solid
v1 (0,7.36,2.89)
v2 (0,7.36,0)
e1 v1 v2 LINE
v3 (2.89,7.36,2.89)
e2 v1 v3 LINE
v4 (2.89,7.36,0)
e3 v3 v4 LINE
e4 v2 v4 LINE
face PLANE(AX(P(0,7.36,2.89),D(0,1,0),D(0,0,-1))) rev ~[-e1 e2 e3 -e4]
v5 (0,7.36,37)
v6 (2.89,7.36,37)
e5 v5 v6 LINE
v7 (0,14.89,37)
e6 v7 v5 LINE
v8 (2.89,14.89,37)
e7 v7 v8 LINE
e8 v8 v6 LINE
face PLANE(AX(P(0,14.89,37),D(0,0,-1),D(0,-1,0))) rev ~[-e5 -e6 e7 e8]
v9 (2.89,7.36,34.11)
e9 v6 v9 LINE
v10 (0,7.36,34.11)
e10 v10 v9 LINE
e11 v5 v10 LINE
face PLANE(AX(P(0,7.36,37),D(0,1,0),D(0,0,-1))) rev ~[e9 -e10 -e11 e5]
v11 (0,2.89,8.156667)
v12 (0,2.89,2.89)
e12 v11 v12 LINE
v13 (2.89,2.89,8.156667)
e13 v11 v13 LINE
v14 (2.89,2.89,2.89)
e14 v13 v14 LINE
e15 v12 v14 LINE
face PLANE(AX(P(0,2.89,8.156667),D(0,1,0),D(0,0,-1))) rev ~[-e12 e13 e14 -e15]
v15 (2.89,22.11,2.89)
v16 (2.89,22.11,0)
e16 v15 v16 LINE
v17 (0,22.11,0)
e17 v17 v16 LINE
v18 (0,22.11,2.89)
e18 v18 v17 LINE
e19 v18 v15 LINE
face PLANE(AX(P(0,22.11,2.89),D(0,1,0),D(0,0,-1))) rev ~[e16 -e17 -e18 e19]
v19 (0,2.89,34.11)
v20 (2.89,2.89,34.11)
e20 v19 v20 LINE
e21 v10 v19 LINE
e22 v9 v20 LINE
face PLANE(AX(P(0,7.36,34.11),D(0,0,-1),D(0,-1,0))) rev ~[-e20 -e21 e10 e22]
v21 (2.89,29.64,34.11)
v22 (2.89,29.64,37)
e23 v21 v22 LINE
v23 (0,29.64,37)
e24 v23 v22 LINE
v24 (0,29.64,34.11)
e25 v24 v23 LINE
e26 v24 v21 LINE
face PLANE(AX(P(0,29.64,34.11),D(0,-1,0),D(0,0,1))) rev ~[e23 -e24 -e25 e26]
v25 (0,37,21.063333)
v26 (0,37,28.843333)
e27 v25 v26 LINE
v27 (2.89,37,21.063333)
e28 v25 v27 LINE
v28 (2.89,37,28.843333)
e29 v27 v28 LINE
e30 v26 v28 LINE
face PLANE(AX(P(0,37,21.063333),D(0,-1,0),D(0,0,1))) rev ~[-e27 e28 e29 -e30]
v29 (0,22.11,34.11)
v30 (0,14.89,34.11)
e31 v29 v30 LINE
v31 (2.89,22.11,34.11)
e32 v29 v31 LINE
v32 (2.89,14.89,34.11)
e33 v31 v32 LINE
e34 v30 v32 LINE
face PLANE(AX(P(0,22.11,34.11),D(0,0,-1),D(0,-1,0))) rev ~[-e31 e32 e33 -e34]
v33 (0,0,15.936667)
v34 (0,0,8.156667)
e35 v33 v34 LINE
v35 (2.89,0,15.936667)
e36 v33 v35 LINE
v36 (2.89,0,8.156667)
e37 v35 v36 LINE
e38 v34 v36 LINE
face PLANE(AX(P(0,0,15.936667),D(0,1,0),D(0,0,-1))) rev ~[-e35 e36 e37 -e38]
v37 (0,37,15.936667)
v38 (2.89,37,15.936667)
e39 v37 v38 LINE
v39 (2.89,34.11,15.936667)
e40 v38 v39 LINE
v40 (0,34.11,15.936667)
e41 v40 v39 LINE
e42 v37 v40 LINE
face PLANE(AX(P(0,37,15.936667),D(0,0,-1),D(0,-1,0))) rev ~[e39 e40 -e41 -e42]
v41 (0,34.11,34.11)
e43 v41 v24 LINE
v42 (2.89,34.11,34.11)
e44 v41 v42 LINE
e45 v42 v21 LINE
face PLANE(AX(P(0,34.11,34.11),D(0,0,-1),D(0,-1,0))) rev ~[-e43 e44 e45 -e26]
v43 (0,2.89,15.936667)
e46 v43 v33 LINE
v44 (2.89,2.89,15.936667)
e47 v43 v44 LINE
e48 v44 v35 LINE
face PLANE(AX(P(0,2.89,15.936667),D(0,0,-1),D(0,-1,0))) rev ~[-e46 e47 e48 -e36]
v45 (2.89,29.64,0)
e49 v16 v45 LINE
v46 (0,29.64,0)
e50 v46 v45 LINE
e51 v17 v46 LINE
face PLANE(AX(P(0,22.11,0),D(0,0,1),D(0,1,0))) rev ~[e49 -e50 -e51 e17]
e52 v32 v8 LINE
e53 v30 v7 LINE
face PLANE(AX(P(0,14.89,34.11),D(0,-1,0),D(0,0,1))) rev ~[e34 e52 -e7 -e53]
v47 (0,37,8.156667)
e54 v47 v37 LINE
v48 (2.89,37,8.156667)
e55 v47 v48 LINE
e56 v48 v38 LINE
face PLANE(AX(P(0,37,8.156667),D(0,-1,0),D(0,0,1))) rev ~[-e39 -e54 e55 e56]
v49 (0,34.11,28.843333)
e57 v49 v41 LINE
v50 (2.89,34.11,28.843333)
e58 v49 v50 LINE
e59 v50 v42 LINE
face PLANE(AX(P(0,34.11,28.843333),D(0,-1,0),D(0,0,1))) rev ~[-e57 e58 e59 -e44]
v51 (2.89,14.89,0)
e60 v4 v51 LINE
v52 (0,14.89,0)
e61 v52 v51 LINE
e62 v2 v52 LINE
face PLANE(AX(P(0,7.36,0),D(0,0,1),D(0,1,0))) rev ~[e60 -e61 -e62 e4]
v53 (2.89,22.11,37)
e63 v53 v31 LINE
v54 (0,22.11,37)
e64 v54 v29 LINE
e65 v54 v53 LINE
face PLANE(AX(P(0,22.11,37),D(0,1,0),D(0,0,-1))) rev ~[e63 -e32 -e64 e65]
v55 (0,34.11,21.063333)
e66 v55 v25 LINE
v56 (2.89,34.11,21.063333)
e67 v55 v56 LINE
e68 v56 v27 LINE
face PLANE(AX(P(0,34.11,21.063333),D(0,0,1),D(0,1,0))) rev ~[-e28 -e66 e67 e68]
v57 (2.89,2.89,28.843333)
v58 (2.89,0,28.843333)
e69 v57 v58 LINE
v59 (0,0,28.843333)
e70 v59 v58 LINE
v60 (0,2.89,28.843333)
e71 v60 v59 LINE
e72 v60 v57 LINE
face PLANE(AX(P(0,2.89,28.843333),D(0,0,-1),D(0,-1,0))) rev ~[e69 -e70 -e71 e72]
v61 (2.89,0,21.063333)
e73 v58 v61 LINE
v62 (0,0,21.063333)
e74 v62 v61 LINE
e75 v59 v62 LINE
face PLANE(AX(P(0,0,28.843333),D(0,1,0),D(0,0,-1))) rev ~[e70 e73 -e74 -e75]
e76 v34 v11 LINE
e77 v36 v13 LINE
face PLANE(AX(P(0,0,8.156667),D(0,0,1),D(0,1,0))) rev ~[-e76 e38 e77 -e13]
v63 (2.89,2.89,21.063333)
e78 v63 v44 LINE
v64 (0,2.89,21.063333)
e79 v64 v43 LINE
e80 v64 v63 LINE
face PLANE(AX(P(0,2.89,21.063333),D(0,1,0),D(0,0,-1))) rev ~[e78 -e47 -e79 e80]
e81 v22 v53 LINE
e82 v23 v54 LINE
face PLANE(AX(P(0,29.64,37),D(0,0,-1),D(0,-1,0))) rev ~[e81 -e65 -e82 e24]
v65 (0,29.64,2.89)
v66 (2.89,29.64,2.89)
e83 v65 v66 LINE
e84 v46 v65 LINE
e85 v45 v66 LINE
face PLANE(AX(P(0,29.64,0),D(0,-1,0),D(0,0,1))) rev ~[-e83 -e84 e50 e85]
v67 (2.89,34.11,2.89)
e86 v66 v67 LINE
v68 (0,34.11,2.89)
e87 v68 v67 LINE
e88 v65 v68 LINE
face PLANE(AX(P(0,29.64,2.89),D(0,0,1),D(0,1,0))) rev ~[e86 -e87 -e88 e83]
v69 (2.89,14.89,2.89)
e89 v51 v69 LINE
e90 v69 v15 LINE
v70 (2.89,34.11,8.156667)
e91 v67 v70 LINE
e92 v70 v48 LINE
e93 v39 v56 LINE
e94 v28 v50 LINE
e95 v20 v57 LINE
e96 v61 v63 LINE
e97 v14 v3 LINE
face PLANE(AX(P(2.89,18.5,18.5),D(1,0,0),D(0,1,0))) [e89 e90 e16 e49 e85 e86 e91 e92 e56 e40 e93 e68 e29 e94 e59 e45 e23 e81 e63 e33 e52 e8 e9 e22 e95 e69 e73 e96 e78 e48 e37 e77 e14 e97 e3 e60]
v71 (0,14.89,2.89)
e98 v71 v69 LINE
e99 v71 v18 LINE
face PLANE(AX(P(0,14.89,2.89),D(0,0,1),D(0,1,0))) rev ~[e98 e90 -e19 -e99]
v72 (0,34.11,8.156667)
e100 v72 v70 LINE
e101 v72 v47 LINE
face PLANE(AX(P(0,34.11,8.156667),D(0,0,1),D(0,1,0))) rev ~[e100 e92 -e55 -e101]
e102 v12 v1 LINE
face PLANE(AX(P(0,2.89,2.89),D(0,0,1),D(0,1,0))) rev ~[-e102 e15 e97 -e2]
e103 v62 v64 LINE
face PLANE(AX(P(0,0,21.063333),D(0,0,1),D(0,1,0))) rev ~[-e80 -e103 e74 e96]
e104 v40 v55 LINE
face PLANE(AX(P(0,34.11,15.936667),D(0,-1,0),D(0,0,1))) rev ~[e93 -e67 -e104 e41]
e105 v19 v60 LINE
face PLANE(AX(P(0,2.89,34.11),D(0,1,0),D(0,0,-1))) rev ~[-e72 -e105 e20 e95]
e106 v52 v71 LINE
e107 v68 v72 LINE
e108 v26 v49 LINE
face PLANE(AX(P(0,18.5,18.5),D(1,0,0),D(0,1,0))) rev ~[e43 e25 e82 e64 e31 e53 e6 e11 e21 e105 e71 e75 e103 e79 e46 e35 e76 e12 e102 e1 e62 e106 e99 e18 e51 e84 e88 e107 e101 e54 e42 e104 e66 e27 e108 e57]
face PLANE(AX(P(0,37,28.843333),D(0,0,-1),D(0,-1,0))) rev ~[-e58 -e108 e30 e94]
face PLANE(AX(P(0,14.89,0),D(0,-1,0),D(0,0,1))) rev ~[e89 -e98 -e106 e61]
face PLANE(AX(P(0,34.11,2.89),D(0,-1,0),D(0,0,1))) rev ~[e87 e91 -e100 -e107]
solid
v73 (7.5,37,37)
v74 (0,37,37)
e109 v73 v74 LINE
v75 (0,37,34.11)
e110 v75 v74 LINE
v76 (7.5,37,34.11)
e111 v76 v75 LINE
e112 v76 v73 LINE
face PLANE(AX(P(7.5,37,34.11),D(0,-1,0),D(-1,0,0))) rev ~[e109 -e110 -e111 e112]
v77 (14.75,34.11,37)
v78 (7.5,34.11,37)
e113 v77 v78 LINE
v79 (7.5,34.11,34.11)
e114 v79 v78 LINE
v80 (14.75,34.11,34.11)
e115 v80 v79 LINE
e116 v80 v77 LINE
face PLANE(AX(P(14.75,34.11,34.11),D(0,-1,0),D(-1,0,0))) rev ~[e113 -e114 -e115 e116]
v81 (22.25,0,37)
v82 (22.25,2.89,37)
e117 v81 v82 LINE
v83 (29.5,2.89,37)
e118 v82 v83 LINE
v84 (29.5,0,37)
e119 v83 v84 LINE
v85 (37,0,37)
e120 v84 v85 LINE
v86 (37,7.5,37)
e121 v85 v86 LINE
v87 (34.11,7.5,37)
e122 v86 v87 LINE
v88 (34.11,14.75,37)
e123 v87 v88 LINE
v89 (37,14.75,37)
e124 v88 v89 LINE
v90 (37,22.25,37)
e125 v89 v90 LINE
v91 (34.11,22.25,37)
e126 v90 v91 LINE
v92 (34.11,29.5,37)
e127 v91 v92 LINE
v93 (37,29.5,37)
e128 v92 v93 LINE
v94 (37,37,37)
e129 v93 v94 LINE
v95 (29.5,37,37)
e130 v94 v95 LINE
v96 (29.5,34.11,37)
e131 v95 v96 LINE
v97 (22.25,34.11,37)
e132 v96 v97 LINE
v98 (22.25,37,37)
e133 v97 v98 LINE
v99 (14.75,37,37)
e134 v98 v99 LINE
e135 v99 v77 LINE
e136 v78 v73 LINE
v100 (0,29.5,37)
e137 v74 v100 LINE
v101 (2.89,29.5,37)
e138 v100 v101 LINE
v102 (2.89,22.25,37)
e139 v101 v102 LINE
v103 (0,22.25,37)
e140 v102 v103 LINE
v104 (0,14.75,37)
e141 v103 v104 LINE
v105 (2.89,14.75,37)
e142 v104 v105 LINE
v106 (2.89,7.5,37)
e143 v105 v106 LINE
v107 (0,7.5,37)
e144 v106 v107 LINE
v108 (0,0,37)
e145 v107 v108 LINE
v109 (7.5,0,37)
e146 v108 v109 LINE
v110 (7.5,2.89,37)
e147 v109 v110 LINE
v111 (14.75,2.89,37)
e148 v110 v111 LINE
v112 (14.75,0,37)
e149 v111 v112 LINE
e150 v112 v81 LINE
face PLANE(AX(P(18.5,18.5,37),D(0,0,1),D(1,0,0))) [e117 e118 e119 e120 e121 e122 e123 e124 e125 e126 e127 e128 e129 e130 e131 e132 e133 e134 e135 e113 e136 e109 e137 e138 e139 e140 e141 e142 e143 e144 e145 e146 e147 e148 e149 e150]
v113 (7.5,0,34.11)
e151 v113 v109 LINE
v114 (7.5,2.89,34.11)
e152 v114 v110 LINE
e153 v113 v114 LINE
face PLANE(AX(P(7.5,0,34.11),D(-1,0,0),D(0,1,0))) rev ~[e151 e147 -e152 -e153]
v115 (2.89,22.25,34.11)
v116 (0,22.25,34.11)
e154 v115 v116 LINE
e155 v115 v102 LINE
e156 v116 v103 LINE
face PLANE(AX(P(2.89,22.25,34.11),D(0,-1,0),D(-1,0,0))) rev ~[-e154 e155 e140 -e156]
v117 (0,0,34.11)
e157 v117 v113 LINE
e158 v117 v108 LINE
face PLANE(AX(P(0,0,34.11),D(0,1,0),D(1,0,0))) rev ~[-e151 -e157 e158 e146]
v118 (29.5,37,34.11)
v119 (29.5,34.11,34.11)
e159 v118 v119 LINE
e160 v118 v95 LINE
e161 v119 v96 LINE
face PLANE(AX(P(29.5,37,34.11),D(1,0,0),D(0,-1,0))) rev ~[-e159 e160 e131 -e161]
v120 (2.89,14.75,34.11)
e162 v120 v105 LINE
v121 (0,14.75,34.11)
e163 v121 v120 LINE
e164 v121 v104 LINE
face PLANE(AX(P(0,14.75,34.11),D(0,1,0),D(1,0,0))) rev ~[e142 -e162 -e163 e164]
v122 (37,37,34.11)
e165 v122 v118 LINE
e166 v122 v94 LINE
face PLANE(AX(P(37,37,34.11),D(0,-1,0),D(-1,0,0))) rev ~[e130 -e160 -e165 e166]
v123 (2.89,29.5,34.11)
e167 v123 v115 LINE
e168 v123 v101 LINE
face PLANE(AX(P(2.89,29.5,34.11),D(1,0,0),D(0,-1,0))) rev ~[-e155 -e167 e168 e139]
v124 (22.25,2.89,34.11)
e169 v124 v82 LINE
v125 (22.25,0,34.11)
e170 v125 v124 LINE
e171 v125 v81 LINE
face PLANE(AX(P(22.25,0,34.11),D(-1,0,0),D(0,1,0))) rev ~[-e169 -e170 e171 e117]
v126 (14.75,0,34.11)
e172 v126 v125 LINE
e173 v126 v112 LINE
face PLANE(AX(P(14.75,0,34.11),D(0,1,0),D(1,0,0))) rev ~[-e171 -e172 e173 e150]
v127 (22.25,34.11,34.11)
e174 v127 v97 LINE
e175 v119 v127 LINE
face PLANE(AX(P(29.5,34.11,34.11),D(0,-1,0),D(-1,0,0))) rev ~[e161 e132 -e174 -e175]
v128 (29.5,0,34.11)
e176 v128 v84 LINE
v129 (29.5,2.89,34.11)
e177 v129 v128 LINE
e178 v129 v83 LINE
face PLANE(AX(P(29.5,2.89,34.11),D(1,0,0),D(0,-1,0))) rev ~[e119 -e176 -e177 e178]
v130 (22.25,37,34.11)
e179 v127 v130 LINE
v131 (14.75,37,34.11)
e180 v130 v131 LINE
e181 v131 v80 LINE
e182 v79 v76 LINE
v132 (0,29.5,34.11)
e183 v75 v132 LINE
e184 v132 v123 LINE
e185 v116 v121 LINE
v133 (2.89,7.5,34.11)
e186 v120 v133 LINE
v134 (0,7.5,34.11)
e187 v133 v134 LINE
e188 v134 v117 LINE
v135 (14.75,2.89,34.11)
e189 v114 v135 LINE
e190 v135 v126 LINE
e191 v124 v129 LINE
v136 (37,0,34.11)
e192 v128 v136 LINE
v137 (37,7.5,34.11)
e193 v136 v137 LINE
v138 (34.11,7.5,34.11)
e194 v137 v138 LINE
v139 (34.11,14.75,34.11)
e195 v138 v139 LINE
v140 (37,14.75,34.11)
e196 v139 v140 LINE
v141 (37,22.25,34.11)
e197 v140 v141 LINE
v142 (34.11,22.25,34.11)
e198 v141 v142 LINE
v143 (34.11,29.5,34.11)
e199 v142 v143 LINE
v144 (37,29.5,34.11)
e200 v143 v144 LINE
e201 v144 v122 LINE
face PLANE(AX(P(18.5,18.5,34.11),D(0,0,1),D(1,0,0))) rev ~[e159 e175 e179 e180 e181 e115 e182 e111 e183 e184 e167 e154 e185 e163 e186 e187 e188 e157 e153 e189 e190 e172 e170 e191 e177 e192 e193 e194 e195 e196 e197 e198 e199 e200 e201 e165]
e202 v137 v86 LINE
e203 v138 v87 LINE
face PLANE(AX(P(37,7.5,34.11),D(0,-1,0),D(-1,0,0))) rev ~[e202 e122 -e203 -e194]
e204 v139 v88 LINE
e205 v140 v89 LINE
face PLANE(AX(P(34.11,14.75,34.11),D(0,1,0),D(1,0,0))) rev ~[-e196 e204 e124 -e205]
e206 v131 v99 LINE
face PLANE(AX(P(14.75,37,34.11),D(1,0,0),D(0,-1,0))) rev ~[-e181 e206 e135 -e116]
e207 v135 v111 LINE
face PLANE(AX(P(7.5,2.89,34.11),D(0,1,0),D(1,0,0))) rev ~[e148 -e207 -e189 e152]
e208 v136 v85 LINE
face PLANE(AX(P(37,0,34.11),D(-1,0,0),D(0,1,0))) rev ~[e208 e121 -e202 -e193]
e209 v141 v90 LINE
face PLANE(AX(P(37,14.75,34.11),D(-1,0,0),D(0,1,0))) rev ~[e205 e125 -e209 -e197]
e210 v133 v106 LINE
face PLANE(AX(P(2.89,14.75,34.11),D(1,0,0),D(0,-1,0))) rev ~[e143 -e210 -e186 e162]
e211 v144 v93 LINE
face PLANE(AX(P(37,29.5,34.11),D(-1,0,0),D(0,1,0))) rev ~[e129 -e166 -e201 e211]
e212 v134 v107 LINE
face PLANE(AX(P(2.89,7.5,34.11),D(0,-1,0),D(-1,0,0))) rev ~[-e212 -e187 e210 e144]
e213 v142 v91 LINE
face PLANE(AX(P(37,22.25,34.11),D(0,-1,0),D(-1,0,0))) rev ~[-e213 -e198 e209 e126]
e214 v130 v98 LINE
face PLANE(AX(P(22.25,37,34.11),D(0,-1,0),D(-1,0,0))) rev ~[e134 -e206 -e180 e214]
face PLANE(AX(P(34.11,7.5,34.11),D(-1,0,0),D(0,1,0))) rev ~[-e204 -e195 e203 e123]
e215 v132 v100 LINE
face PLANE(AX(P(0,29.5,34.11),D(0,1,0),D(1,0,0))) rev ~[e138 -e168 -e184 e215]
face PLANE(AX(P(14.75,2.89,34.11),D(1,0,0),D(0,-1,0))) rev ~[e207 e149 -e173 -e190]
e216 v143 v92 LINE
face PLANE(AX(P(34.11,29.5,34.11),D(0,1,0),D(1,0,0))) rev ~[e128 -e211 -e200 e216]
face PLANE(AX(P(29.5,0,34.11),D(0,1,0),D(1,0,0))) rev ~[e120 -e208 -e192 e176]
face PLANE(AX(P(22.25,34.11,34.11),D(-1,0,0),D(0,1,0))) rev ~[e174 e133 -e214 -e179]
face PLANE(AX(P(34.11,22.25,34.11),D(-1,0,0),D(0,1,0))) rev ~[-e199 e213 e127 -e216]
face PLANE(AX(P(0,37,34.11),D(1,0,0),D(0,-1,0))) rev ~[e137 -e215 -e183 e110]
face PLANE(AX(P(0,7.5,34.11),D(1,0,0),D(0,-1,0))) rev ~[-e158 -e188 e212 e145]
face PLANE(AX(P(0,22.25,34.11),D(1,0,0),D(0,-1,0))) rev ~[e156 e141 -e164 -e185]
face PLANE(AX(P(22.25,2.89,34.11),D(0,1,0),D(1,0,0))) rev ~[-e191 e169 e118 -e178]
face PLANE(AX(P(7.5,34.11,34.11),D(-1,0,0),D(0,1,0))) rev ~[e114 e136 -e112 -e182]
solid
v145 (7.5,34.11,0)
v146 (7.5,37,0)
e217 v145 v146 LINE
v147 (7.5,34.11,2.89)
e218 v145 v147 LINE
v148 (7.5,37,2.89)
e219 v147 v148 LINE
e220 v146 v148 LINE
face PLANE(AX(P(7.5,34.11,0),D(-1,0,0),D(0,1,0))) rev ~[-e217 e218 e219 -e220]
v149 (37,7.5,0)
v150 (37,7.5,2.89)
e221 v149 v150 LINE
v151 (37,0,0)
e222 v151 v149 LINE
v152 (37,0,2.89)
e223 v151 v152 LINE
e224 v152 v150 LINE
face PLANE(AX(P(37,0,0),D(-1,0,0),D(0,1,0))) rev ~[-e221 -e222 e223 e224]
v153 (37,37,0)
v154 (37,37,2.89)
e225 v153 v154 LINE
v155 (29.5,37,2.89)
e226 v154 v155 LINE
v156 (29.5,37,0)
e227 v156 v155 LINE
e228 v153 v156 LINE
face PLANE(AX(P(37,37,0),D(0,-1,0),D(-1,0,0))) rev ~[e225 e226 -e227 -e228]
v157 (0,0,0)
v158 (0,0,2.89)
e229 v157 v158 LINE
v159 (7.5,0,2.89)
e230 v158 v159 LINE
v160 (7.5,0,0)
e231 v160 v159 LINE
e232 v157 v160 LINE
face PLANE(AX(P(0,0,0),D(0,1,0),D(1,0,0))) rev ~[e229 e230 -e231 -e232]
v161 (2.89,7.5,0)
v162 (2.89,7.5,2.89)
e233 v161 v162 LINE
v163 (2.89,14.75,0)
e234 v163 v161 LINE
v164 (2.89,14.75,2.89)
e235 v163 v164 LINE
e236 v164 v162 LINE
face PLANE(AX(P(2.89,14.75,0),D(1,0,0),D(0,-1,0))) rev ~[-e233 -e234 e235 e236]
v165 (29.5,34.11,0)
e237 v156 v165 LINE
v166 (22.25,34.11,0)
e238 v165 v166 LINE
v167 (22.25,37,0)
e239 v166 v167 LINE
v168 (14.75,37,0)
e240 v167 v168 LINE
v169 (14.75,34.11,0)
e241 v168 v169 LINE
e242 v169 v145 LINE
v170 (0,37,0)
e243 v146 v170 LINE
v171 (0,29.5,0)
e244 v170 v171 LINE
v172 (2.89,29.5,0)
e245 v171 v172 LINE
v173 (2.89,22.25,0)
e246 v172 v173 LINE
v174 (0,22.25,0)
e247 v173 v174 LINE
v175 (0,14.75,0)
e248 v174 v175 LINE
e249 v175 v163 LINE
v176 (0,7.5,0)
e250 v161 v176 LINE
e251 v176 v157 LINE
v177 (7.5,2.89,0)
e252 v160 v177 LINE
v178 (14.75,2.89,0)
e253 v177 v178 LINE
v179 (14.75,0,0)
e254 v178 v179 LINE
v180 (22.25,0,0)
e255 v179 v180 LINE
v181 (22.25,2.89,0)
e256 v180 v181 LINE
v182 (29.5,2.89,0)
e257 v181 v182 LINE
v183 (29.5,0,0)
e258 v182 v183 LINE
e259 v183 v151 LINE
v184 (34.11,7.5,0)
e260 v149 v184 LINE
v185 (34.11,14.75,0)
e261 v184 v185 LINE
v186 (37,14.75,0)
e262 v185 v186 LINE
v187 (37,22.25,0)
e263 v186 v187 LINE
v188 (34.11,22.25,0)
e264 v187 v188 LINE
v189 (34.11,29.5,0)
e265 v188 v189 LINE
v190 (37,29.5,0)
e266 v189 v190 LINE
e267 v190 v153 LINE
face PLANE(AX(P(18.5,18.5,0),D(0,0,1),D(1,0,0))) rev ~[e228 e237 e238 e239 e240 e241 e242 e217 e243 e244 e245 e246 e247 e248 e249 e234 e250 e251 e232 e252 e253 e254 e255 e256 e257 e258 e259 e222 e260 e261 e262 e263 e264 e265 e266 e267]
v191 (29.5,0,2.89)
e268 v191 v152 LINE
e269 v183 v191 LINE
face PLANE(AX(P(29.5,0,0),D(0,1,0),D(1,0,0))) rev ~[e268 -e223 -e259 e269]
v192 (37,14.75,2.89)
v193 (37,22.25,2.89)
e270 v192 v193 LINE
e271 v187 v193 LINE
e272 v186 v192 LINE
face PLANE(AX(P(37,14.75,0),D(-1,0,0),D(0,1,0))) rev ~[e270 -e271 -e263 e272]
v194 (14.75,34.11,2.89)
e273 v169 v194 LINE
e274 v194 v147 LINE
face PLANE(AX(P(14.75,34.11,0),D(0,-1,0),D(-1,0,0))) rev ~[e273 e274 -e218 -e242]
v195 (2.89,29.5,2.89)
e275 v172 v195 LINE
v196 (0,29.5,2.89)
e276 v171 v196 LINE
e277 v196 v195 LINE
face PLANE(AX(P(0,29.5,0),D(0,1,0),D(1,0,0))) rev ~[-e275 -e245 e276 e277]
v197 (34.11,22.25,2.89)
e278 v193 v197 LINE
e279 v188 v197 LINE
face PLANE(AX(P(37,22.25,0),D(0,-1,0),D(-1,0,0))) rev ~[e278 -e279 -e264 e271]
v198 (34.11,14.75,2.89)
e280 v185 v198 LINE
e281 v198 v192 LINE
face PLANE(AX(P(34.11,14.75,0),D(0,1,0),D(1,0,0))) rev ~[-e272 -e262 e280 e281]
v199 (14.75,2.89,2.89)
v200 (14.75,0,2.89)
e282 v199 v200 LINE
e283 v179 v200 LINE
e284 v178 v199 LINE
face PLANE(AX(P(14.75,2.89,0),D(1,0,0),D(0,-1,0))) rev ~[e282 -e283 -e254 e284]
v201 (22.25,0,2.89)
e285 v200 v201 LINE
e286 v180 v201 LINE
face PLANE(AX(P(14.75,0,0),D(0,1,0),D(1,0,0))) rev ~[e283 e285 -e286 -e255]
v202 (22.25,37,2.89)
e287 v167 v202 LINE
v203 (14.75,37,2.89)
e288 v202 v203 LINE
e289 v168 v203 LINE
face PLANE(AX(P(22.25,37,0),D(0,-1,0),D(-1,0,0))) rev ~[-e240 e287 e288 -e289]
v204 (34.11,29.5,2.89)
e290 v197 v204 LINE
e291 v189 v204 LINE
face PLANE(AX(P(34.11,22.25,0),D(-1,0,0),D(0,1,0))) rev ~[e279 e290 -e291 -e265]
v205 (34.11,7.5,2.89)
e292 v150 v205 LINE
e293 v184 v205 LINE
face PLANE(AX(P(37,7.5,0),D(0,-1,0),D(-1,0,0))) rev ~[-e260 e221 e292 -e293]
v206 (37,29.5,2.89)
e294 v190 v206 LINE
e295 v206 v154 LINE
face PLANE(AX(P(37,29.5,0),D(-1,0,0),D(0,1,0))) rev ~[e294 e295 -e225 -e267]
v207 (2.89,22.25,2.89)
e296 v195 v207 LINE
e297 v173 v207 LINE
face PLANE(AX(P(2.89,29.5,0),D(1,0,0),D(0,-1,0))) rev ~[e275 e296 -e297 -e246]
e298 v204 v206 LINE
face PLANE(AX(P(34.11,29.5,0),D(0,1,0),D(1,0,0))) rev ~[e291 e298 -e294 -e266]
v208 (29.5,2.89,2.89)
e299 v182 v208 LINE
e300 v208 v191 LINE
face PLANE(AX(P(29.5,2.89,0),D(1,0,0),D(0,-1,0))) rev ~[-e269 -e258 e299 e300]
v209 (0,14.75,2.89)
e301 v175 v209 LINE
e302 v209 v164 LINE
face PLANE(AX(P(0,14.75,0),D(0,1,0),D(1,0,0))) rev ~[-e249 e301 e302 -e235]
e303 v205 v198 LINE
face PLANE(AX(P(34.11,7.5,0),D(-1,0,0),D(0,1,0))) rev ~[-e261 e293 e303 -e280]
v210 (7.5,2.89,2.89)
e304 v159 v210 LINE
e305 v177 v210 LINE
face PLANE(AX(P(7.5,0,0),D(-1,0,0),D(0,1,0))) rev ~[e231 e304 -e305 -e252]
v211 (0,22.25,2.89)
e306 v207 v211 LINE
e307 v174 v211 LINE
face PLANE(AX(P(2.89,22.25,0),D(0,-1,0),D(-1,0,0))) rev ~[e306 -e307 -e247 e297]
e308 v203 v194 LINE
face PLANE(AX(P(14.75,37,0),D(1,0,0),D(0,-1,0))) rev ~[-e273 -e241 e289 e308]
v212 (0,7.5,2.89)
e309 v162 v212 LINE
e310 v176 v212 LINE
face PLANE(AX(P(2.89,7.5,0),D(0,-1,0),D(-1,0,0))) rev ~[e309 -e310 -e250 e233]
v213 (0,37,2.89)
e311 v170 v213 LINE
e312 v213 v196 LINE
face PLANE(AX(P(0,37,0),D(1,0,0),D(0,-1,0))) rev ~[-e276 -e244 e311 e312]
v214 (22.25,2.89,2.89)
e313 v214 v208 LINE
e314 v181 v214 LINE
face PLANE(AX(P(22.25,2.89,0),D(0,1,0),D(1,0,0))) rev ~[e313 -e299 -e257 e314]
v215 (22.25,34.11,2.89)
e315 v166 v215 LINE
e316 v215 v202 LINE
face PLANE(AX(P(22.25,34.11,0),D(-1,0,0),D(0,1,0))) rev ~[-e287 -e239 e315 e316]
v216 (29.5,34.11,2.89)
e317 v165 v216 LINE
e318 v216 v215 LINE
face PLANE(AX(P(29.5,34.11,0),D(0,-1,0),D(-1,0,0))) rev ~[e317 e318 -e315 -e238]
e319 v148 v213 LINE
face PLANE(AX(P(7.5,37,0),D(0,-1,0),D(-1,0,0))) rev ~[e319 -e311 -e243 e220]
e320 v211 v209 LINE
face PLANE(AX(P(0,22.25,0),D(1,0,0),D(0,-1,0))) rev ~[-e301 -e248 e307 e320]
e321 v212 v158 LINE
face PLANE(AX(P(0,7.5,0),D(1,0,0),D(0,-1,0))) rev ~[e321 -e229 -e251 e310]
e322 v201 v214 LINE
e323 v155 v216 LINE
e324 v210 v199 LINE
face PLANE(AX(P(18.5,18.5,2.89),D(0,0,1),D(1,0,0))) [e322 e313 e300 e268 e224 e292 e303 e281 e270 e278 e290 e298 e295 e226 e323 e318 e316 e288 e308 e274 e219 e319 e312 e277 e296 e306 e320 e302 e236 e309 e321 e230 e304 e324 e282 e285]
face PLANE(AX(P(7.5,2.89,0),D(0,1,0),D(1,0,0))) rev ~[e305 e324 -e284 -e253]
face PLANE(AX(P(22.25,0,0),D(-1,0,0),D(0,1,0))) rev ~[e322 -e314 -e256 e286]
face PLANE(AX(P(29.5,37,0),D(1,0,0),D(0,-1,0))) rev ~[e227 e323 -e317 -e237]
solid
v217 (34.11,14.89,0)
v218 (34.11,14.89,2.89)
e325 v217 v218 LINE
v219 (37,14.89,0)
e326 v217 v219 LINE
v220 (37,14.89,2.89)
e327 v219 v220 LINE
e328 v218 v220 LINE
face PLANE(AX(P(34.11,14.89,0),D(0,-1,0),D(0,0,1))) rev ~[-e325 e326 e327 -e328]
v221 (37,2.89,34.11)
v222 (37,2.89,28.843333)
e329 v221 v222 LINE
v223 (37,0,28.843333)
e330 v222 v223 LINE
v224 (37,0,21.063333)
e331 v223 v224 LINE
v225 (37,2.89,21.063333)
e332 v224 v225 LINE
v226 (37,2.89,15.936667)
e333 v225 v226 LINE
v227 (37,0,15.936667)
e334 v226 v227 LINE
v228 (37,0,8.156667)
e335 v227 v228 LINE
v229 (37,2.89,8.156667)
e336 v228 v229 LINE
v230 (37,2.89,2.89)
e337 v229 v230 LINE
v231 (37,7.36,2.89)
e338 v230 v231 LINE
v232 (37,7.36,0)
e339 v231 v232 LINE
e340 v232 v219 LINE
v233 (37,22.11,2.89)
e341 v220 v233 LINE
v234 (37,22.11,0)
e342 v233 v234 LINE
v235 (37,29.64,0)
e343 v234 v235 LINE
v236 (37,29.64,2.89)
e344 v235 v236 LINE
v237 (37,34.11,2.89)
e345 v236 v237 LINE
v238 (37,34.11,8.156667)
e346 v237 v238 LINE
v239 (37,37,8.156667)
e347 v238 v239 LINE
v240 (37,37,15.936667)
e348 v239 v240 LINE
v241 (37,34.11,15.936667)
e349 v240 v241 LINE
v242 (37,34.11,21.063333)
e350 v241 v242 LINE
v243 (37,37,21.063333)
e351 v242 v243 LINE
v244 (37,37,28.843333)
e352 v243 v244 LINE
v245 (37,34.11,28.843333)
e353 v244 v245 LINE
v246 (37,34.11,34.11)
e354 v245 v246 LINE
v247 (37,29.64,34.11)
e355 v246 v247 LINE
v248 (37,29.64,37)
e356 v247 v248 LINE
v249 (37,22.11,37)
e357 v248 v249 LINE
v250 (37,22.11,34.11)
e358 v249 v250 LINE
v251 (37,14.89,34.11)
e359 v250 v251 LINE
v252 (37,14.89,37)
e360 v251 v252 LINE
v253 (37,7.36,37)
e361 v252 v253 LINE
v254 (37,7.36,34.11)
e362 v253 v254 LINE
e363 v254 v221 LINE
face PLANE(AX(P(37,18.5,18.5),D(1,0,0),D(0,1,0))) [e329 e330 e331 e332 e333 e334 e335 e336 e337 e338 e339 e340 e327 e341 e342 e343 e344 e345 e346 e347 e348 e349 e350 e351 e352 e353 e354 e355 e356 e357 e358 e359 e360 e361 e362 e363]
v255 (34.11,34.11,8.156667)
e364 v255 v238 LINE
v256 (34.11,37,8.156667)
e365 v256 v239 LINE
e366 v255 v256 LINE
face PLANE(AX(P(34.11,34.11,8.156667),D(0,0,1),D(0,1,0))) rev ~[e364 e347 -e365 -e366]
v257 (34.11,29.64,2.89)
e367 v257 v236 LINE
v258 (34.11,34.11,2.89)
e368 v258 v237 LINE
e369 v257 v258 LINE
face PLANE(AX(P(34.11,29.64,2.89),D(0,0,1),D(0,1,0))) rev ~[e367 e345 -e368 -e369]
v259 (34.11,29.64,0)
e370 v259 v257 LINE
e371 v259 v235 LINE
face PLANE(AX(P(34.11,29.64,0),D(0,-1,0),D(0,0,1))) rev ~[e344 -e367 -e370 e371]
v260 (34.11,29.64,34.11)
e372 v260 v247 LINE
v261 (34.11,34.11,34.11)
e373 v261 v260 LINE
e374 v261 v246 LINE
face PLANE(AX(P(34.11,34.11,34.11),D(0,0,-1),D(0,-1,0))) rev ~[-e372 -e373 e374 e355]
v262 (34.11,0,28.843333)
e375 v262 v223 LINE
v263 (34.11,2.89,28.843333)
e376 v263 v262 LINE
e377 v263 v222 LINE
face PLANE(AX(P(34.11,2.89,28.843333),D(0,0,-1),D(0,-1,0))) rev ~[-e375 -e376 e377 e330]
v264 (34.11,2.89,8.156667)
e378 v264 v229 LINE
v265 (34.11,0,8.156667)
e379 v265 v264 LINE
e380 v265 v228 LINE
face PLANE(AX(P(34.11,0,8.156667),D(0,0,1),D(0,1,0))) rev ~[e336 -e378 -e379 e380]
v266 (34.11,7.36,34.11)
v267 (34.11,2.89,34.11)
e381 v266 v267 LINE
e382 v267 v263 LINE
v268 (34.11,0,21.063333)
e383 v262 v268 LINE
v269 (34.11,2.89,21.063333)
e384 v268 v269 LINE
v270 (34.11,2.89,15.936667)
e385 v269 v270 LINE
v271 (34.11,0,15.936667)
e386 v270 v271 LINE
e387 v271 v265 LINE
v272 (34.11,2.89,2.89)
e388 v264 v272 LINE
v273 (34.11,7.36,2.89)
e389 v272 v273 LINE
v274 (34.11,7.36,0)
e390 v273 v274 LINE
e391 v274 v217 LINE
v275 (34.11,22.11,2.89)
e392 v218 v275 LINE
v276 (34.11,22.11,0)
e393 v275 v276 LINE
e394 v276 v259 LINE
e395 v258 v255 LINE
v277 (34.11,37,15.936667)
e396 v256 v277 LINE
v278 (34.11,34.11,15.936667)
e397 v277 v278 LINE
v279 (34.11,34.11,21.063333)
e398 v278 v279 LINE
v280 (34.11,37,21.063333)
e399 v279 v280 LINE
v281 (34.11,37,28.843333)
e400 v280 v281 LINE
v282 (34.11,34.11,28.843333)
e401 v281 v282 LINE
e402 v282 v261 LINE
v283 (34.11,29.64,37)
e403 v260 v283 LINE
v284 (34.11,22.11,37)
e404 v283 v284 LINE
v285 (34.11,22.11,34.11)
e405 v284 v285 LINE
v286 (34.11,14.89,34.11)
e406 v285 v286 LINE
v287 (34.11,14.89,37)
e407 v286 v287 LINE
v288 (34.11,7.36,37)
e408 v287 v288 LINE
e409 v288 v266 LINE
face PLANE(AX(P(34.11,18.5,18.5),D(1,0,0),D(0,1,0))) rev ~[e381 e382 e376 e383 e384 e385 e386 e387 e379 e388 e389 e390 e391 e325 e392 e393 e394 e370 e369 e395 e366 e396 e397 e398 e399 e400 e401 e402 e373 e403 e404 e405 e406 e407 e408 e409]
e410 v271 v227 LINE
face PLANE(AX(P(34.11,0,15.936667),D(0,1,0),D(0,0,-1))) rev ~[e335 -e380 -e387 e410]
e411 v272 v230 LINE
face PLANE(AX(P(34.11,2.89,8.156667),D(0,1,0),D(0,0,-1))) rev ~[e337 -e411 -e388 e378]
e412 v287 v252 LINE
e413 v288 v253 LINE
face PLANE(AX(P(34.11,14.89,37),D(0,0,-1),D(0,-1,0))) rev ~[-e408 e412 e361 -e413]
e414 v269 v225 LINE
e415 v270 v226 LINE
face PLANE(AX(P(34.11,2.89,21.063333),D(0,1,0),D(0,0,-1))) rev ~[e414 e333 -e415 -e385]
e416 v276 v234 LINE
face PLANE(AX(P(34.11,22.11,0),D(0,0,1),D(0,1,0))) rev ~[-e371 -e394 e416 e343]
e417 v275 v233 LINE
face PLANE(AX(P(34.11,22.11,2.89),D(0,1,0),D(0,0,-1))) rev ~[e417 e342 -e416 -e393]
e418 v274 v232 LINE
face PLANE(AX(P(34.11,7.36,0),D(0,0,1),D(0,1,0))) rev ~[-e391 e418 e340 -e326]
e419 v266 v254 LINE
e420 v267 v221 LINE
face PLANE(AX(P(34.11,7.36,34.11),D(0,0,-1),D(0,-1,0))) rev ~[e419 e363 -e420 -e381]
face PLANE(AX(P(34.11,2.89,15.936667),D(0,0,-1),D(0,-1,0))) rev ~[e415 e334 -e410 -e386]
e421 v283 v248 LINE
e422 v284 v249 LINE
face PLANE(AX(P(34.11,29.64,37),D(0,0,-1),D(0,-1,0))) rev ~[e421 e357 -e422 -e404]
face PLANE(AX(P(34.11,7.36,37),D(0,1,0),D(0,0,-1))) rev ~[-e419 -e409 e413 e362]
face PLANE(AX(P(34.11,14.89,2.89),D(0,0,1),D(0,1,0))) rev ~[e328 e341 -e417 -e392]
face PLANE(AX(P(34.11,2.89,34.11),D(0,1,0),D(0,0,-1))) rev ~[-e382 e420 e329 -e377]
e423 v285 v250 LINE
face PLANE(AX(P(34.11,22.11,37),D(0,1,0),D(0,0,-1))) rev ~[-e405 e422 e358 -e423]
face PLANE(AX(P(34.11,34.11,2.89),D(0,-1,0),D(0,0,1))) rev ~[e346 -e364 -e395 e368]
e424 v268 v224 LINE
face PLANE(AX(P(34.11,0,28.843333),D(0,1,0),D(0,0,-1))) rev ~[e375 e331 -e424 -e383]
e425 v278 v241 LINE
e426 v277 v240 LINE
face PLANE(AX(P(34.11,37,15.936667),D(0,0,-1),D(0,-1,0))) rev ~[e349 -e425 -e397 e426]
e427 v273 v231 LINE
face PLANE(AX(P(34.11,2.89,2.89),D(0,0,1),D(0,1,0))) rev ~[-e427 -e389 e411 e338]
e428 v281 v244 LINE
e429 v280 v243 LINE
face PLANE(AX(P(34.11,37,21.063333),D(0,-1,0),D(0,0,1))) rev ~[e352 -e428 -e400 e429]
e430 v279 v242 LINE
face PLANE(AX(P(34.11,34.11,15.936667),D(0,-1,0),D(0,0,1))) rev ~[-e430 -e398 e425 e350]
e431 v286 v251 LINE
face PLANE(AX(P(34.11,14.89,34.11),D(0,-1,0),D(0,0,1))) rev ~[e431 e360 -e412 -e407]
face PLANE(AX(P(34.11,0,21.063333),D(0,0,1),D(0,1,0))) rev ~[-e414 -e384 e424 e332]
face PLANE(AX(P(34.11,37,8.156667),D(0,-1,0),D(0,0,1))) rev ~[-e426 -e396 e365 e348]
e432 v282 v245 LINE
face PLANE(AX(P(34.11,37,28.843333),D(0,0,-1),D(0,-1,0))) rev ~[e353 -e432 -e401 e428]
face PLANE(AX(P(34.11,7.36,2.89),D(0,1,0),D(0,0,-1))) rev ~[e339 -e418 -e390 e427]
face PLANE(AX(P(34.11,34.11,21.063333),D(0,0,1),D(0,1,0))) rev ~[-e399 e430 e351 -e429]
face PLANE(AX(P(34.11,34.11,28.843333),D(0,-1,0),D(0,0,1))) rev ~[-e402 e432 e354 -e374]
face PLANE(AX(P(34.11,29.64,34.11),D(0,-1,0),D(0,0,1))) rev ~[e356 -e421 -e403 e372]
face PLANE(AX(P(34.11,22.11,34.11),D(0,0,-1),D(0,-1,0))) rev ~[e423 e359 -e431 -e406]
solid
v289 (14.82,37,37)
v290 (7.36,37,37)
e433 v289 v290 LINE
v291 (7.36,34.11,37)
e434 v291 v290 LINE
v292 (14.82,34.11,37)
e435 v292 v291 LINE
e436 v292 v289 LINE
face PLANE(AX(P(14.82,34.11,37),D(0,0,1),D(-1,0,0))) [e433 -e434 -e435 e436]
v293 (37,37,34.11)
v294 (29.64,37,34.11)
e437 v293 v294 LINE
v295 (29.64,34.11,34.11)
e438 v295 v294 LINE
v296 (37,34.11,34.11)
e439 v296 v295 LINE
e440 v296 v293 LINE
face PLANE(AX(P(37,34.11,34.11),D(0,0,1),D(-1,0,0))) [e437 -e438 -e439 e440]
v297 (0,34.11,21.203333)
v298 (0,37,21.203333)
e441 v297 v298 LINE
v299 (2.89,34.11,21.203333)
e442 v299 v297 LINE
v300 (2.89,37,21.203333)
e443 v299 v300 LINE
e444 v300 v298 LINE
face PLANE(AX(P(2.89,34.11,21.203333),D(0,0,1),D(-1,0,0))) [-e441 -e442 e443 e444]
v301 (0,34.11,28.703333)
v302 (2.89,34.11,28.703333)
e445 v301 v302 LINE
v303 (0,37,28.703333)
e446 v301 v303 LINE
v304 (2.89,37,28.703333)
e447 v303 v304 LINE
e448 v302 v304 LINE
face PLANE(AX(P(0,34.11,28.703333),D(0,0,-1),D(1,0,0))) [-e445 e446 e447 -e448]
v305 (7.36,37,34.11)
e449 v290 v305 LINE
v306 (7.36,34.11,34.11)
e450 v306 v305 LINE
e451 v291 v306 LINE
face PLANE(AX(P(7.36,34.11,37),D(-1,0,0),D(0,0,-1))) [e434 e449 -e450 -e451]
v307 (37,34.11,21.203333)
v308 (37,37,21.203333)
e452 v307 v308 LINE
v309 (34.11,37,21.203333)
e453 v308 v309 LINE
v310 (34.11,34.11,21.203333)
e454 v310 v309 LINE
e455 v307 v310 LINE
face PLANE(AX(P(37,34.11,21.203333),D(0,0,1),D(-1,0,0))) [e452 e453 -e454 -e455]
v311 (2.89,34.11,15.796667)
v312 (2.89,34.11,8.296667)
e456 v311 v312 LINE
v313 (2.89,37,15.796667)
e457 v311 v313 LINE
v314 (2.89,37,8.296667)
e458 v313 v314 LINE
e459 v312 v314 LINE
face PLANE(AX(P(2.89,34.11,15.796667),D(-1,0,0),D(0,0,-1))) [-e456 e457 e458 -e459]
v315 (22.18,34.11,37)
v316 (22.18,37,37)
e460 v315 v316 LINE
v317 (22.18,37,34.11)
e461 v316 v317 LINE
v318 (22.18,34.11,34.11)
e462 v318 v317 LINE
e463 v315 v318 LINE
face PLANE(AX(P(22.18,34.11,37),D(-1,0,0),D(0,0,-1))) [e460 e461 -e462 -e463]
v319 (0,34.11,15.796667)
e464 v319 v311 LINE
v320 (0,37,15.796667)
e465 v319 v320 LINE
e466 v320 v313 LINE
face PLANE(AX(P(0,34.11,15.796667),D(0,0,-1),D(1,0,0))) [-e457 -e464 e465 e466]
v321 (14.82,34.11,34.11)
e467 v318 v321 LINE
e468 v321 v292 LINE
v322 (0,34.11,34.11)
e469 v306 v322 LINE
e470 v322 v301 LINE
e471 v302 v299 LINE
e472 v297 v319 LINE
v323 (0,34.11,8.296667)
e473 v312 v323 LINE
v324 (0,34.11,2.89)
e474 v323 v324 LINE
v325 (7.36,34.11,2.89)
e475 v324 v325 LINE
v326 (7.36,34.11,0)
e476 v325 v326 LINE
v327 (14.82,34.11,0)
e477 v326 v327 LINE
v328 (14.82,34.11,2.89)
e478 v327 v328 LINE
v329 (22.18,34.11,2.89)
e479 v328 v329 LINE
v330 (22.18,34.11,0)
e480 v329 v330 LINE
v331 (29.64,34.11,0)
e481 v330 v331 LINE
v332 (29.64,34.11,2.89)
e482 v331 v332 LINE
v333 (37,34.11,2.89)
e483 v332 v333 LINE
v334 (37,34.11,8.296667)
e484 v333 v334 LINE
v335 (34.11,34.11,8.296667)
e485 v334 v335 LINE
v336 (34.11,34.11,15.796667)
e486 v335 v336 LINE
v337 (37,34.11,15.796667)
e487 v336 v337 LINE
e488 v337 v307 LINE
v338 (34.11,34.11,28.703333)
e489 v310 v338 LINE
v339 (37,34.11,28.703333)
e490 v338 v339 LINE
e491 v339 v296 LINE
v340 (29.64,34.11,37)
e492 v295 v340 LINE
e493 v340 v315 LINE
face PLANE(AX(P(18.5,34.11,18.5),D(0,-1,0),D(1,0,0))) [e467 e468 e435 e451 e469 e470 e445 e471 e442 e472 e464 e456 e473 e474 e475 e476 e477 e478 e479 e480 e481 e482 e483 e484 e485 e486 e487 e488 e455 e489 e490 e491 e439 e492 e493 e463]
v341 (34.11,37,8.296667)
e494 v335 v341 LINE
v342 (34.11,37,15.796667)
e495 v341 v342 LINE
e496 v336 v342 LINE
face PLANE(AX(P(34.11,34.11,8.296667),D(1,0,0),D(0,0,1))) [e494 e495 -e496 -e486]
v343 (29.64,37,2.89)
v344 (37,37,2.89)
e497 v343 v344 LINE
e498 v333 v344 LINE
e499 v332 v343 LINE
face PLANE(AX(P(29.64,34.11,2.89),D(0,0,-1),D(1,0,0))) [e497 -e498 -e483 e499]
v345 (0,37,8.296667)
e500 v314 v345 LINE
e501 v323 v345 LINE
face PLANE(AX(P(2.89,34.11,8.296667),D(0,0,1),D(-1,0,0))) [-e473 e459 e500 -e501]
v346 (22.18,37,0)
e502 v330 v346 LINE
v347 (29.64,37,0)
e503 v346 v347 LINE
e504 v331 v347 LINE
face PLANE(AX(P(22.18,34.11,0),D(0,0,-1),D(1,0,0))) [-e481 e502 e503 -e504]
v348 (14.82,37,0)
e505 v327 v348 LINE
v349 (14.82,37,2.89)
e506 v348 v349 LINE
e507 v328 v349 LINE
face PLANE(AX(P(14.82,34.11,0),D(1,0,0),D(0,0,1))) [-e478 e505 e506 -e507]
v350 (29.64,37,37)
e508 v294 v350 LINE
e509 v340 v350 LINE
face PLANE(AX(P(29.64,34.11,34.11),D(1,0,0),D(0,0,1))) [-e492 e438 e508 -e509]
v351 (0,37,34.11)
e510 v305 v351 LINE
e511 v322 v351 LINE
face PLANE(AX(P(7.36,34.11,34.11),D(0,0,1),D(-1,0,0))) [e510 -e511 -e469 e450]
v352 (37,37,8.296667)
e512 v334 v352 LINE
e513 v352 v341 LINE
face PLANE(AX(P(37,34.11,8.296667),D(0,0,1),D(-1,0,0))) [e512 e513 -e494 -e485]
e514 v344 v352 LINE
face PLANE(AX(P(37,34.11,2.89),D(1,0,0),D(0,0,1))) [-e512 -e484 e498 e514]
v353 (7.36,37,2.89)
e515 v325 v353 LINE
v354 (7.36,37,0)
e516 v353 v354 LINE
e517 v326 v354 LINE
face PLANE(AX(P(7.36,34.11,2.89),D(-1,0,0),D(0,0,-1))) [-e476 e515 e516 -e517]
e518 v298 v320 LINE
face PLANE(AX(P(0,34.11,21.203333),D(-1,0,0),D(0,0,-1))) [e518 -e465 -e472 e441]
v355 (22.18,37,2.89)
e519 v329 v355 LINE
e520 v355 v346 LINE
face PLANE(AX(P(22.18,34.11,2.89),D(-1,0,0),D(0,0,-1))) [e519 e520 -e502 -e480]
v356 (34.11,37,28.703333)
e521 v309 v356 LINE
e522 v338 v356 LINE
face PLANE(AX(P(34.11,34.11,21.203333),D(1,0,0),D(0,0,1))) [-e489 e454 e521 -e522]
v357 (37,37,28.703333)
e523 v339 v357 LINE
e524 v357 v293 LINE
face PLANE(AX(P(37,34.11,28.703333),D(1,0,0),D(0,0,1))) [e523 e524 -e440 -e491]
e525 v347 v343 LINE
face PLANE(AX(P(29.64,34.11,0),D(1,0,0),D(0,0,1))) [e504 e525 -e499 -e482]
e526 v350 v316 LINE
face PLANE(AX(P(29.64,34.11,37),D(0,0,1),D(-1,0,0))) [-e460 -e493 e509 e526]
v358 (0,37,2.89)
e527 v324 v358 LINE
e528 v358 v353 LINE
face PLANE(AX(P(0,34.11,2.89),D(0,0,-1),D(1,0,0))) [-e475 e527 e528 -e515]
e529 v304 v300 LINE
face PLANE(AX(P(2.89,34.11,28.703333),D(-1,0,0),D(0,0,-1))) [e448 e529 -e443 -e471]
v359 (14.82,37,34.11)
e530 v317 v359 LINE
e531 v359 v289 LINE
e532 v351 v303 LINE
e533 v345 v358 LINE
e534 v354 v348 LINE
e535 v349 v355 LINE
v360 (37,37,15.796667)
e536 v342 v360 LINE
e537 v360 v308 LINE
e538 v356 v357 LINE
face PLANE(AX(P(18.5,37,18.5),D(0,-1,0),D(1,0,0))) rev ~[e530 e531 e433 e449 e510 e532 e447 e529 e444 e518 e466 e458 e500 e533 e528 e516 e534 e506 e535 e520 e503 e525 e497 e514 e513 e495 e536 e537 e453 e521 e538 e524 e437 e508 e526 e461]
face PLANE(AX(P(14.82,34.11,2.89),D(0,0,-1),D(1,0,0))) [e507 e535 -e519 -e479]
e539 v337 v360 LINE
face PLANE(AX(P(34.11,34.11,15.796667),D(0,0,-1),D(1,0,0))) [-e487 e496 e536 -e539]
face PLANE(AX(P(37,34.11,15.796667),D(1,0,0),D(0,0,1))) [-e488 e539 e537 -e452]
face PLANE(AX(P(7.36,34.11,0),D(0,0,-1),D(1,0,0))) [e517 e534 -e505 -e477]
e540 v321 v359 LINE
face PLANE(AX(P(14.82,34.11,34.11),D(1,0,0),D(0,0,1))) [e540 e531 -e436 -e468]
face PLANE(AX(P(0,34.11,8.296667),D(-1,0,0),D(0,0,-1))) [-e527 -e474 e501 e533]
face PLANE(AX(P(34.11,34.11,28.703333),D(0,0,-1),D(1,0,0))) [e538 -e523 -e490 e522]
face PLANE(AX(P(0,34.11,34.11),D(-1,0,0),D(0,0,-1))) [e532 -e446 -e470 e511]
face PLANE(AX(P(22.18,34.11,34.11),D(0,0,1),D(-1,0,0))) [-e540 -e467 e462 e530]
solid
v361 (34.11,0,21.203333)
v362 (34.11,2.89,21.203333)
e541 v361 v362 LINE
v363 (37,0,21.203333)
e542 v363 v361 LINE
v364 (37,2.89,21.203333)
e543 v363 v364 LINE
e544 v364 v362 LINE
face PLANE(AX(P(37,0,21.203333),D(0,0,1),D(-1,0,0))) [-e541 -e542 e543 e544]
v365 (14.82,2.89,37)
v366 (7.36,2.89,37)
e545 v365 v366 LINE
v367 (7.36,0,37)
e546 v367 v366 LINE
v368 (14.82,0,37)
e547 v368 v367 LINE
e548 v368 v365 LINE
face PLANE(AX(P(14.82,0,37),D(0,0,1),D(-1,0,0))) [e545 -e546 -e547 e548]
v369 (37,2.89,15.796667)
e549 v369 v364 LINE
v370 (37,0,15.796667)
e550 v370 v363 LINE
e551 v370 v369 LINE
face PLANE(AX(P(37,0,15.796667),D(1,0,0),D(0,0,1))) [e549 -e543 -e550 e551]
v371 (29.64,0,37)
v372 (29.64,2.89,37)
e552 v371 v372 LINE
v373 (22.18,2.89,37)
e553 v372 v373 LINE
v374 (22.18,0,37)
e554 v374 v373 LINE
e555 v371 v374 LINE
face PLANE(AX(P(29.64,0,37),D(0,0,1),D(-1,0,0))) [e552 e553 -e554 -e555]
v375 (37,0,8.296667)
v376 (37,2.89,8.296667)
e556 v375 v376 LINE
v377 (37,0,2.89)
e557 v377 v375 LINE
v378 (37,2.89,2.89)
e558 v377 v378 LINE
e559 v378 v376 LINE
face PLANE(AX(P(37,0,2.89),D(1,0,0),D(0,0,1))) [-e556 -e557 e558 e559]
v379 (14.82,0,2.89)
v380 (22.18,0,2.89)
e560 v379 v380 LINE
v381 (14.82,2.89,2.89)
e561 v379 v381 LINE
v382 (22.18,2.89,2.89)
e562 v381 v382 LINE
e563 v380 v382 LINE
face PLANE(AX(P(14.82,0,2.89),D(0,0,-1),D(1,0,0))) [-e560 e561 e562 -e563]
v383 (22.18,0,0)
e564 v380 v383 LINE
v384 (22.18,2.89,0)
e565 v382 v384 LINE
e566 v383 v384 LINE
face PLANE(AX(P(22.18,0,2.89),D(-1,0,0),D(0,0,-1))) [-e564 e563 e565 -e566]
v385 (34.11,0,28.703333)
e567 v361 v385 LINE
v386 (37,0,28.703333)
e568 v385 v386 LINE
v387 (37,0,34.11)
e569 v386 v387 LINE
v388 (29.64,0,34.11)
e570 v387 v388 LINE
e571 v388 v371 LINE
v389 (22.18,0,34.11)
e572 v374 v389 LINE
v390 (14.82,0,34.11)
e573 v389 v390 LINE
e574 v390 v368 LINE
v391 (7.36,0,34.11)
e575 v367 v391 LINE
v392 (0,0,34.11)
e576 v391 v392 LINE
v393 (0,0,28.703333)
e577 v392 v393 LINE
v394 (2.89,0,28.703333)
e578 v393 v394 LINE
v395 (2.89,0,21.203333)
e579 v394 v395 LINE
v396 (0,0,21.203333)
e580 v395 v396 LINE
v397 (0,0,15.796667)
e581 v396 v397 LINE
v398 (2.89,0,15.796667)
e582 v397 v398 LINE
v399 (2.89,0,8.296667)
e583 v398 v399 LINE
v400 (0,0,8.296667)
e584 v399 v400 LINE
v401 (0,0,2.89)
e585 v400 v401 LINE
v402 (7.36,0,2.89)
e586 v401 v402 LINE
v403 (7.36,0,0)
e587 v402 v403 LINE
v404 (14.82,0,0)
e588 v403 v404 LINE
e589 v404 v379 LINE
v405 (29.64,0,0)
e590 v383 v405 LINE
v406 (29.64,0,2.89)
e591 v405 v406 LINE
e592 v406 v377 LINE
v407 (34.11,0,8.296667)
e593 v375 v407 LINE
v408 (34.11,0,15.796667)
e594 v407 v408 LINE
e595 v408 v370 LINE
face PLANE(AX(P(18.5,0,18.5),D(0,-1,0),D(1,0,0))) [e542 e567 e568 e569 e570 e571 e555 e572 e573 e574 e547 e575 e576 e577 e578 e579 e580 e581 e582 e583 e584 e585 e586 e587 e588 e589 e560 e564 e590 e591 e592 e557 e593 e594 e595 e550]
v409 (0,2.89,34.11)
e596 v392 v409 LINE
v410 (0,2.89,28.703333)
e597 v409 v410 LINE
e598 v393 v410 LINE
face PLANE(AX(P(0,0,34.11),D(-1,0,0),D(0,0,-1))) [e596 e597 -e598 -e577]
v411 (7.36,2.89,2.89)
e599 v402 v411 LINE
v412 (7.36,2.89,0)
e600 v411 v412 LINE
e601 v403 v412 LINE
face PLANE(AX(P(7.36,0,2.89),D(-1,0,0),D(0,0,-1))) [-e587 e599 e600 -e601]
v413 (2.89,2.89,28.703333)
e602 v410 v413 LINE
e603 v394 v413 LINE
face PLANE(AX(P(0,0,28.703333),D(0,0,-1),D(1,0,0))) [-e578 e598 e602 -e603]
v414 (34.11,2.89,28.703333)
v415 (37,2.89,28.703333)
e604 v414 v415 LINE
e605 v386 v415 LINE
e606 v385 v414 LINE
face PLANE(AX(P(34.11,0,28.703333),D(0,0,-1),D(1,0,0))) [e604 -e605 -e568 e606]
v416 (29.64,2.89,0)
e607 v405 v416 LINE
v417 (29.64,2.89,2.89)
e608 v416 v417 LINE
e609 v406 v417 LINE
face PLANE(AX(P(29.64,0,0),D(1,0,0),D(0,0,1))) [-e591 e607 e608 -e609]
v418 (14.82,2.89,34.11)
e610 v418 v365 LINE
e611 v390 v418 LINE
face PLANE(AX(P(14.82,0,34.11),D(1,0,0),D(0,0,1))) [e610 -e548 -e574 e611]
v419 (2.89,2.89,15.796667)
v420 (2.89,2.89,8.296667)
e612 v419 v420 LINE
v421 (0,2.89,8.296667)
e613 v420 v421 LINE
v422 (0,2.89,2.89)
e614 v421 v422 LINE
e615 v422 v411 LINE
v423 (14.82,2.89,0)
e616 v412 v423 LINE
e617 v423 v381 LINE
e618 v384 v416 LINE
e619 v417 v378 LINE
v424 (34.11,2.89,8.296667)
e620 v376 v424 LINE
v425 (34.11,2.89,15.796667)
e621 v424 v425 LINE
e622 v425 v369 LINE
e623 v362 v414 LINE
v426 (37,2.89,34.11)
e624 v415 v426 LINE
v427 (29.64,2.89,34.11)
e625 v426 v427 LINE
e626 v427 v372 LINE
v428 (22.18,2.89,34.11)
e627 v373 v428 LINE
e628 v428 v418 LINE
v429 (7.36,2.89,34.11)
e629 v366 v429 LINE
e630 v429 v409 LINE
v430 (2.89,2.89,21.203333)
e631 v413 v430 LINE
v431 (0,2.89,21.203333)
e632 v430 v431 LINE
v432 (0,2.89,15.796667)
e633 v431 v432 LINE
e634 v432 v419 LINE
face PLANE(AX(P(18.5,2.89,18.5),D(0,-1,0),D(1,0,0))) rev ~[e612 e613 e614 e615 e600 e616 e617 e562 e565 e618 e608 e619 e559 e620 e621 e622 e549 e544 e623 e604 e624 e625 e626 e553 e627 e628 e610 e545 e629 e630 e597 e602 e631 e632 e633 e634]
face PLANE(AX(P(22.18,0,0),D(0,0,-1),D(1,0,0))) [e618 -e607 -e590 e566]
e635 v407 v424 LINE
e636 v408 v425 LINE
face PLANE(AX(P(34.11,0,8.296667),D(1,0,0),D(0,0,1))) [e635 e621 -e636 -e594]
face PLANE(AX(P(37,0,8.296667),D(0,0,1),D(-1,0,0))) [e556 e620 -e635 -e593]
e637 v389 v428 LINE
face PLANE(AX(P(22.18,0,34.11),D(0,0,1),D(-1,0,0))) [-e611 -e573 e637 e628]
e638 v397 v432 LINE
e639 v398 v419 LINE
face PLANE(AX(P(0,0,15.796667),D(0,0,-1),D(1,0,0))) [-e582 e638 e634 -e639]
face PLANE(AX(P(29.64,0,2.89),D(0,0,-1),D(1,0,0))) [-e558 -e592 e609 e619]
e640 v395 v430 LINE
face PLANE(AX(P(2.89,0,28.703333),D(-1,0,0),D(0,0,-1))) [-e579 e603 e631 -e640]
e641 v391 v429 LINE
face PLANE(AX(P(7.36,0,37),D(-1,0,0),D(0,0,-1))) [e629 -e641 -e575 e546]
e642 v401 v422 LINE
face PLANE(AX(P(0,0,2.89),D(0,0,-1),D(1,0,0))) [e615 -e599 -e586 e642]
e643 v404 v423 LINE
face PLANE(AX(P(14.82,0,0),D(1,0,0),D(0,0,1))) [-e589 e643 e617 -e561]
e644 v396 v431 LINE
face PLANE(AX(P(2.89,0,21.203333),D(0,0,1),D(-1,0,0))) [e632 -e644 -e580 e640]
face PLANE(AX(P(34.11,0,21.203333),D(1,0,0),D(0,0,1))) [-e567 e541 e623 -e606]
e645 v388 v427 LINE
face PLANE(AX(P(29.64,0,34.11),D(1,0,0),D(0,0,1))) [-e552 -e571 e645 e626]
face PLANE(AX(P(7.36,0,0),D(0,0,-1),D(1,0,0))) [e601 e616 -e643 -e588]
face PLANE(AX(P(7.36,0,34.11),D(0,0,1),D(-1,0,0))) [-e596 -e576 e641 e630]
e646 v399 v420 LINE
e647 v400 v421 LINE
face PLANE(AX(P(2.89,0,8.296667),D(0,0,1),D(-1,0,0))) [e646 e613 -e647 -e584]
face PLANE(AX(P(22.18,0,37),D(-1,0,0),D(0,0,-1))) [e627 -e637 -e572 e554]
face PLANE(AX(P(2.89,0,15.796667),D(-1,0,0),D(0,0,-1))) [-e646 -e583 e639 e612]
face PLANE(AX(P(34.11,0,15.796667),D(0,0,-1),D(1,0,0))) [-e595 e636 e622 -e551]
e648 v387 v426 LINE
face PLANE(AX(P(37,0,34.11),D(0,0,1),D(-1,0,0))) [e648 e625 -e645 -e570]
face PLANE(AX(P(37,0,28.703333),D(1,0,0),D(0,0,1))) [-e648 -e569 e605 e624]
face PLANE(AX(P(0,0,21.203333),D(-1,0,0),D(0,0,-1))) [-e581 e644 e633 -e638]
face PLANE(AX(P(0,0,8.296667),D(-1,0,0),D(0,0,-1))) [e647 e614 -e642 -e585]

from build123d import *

# Parameters (mm, degrees)
F3_DEPTH  = 2.89
F4_START  = 34.11
F4_DEPTH  = 2.89
F6_DEPTH  = 2.89
F7_START  = -34.11
F7_DEPTH  = 2.89
F9_DEPTH  = 2.89
F10_START = 34.11
F10_DEPTH = 2.89


with BuildPart() as f3:
    # F2 (on Top) → F3 (new body)
    with BuildSketch(Plane.XY):
        Polygon((0, 7.5), (0, 0), (7.5, 0), (7.5, 2.89), (14.75, 2.89), (14.75, 0), (22.25, 0), (22.25, 2.89), (29.5, 2.89), (29.5, 0), (37, 0), (37, 7.5), (34.11, 7.5), (34.11, 14.75), (37, 14.75), (37, 22.25), (34.11, 22.25), (34.11, 29.5), (37, 29.5), (37, 37), (29.5, 37), (29.5, 34.11), (22.25, 34.11), (22.25, 37), (14.75, 37), (14.75, 34.11), (7.5, 34.11), (7.5, 37), (0, 37), (0, 29.5), (2.89, 29.5), (2.89, 22.25), (0, 22.25), (0, 14.75), (2.89, 14.75), (2.89, 7.5), align=None)
    extrude(amount=F3_DEPTH)


with BuildPart() as f4:
    # F2 (on Top) → F4 (new body)
    with BuildSketch(Plane.XY.offset(F4_START)):
        Polygon((0, 7.5), (0, 0), (7.5, 0), (7.5, 2.89), (14.75, 2.89), (14.75, 0), (22.25, 0), (22.25, 2.89), (29.5, 2.89), (29.5, 0), (37, 0), (37, 7.5), (34.11, 7.5), (34.11, 14.75), (37, 14.75), (37, 22.25), (34.11, 22.25), (34.11, 29.5), (37, 29.5), (37, 37), (29.5, 37), (29.5, 34.11), (22.25, 34.11), (22.25, 37), (14.75, 37), (14.75, 34.11), (7.5, 34.11), (7.5, 37), (0, 37), (0, 29.5), (2.89, 29.5), (2.89, 22.25), (0, 22.25), (0, 14.75), (2.89, 14.75), (2.89, 7.5), align=None)
    extrude(amount=F4_DEPTH)


with BuildPart() as f6:
    # F5 (on Front) → F6 (new body)
    with BuildSketch(Plane.XZ):
        Polygon((14.82, 37), (7.36, 37), (7.36, 34.11), (0, 34.11), (0, 28.7033333333), (2.89, 28.7033333333), (2.89, 21.2033333333), (0, 21.2033333333), (0, 15.7966666667), (2.89, 15.7966666667), (2.89, 8.2966666667), (0, 8.2966666667), (0, 2.89), (7.36, 2.89), (7.36, 0), (14.82, 0), (14.82, 2.89), (22.18, 2.89), (22.18, 0), (29.64, 0), (29.64, 2.89), (37, 2.89), (37, 8.2966666667), (34.11, 8.2966666667), (34.11, 15.7966666667), (37, 15.7966666667), (37, 21.2033333333), (34.11, 21.2033333333), (34.11, 28.7033333333), (37, 28.7033333333), (37, 34.11), (29.64, 34.11), (29.64, 37), (22.18, 37), (22.18, 34.11), (14.82, 34.11), align=None)
    extrude(amount=-F6_DEPTH)


with BuildPart() as f7:
    # F5 (on Front) → F7 (new body)
    with BuildSketch(Plane.XZ.offset(F7_START)):
        Polygon((14.82, 37), (7.36, 37), (7.36, 34.11), (0, 34.11), (0, 28.7033333333), (2.89, 28.7033333333), (2.89, 21.2033333333), (0, 21.2033333333), (0, 15.7966666667), (2.89, 15.7966666667), (2.89, 8.2966666667), (0, 8.2966666667), (0, 2.89), (7.36, 2.89), (7.36, 0), (14.82, 0), (14.82, 2.89), (22.18, 2.89), (22.18, 0), (29.64, 0), (29.64, 2.89), (37, 2.89), (37, 8.2966666667), (34.11, 8.2966666667), (34.11, 15.7966666667), (37, 15.7966666667), (37, 21.2033333333), (34.11, 21.2033333333), (34.11, 28.7033333333), (37, 28.7033333333), (37, 34.11), (29.64, 34.11), (29.64, 37), (22.18, 37), (22.18, 34.11), (14.82, 34.11), align=None)
    extrude(amount=-F7_DEPTH)


with BuildPart() as f9:
    # F8 (on Right) → F9 (new body)
    with BuildSketch(Plane.YZ):
        Polygon((29.64, 34.11), (29.64, 37), (22.11, 37), (22.11, 34.11), (14.89, 34.11), (14.89, 37), (7.36, 37), (7.36, 34.11), (2.89, 34.11), (2.89, 28.8433333333), (0, 28.8433333333), (0, 21.0633333333), (2.89, 21.0633333333), (2.89, 15.9366666667), (0, 15.9366666667), (0, 8.1566666667), (2.89, 8.1566666667), (2.89, 2.89), (7.36, 2.89), (7.36, 0), (14.89, 0), (14.89, 2.89), (22.11, 2.89), (22.11, 0), (29.64, 0), (29.64, 2.89), (34.11, 2.89), (34.11, 8.1566666667), (37, 8.1566666667), (37, 15.9366666667), (34.11, 15.9366666667), (34.11, 21.0633333333), (37, 21.0633333333), (37, 28.8433333333), (34.11, 28.8433333333), (34.11, 34.11), align=None)
    extrude(amount=F9_DEPTH)


with BuildPart() as f10:
    # F8 (on Right) → F10 (new body)
    with BuildSketch(Plane.YZ.offset(F10_START)):
        Polygon((29.64, 34.11), (29.64, 37), (22.11, 37), (22.11, 34.11), (14.89, 34.11), (14.89, 37), (7.36, 37), (7.36, 34.11), (2.89, 34.11), (2.89, 28.8433333333), (0, 28.8433333333), (0, 21.0633333333), (2.89, 21.0633333333), (2.89, 15.9366666667), (0, 15.9366666667), (0, 8.1566666667), (2.89, 8.1566666667), (2.89, 2.89), (7.36, 2.89), (7.36, 0), (14.89, 0), (14.89, 2.89), (22.11, 2.89), (22.11, 0), (29.64, 0), (29.64, 2.89), (34.11, 2.89), (34.11, 8.1566666667), (37, 8.1566666667), (37, 15.9366666667), (34.11, 15.9366666667), (34.11, 21.0633333333), (37, 21.0633333333), (37, 28.8433333333), (34.11, 28.8433333333), (34.11, 34.11), align=None)
    extrude(amount=F10_DEPTH)


solid = Compound([f3.part, f4.part, f6.part, f7.part, f9.part, f10.part])
